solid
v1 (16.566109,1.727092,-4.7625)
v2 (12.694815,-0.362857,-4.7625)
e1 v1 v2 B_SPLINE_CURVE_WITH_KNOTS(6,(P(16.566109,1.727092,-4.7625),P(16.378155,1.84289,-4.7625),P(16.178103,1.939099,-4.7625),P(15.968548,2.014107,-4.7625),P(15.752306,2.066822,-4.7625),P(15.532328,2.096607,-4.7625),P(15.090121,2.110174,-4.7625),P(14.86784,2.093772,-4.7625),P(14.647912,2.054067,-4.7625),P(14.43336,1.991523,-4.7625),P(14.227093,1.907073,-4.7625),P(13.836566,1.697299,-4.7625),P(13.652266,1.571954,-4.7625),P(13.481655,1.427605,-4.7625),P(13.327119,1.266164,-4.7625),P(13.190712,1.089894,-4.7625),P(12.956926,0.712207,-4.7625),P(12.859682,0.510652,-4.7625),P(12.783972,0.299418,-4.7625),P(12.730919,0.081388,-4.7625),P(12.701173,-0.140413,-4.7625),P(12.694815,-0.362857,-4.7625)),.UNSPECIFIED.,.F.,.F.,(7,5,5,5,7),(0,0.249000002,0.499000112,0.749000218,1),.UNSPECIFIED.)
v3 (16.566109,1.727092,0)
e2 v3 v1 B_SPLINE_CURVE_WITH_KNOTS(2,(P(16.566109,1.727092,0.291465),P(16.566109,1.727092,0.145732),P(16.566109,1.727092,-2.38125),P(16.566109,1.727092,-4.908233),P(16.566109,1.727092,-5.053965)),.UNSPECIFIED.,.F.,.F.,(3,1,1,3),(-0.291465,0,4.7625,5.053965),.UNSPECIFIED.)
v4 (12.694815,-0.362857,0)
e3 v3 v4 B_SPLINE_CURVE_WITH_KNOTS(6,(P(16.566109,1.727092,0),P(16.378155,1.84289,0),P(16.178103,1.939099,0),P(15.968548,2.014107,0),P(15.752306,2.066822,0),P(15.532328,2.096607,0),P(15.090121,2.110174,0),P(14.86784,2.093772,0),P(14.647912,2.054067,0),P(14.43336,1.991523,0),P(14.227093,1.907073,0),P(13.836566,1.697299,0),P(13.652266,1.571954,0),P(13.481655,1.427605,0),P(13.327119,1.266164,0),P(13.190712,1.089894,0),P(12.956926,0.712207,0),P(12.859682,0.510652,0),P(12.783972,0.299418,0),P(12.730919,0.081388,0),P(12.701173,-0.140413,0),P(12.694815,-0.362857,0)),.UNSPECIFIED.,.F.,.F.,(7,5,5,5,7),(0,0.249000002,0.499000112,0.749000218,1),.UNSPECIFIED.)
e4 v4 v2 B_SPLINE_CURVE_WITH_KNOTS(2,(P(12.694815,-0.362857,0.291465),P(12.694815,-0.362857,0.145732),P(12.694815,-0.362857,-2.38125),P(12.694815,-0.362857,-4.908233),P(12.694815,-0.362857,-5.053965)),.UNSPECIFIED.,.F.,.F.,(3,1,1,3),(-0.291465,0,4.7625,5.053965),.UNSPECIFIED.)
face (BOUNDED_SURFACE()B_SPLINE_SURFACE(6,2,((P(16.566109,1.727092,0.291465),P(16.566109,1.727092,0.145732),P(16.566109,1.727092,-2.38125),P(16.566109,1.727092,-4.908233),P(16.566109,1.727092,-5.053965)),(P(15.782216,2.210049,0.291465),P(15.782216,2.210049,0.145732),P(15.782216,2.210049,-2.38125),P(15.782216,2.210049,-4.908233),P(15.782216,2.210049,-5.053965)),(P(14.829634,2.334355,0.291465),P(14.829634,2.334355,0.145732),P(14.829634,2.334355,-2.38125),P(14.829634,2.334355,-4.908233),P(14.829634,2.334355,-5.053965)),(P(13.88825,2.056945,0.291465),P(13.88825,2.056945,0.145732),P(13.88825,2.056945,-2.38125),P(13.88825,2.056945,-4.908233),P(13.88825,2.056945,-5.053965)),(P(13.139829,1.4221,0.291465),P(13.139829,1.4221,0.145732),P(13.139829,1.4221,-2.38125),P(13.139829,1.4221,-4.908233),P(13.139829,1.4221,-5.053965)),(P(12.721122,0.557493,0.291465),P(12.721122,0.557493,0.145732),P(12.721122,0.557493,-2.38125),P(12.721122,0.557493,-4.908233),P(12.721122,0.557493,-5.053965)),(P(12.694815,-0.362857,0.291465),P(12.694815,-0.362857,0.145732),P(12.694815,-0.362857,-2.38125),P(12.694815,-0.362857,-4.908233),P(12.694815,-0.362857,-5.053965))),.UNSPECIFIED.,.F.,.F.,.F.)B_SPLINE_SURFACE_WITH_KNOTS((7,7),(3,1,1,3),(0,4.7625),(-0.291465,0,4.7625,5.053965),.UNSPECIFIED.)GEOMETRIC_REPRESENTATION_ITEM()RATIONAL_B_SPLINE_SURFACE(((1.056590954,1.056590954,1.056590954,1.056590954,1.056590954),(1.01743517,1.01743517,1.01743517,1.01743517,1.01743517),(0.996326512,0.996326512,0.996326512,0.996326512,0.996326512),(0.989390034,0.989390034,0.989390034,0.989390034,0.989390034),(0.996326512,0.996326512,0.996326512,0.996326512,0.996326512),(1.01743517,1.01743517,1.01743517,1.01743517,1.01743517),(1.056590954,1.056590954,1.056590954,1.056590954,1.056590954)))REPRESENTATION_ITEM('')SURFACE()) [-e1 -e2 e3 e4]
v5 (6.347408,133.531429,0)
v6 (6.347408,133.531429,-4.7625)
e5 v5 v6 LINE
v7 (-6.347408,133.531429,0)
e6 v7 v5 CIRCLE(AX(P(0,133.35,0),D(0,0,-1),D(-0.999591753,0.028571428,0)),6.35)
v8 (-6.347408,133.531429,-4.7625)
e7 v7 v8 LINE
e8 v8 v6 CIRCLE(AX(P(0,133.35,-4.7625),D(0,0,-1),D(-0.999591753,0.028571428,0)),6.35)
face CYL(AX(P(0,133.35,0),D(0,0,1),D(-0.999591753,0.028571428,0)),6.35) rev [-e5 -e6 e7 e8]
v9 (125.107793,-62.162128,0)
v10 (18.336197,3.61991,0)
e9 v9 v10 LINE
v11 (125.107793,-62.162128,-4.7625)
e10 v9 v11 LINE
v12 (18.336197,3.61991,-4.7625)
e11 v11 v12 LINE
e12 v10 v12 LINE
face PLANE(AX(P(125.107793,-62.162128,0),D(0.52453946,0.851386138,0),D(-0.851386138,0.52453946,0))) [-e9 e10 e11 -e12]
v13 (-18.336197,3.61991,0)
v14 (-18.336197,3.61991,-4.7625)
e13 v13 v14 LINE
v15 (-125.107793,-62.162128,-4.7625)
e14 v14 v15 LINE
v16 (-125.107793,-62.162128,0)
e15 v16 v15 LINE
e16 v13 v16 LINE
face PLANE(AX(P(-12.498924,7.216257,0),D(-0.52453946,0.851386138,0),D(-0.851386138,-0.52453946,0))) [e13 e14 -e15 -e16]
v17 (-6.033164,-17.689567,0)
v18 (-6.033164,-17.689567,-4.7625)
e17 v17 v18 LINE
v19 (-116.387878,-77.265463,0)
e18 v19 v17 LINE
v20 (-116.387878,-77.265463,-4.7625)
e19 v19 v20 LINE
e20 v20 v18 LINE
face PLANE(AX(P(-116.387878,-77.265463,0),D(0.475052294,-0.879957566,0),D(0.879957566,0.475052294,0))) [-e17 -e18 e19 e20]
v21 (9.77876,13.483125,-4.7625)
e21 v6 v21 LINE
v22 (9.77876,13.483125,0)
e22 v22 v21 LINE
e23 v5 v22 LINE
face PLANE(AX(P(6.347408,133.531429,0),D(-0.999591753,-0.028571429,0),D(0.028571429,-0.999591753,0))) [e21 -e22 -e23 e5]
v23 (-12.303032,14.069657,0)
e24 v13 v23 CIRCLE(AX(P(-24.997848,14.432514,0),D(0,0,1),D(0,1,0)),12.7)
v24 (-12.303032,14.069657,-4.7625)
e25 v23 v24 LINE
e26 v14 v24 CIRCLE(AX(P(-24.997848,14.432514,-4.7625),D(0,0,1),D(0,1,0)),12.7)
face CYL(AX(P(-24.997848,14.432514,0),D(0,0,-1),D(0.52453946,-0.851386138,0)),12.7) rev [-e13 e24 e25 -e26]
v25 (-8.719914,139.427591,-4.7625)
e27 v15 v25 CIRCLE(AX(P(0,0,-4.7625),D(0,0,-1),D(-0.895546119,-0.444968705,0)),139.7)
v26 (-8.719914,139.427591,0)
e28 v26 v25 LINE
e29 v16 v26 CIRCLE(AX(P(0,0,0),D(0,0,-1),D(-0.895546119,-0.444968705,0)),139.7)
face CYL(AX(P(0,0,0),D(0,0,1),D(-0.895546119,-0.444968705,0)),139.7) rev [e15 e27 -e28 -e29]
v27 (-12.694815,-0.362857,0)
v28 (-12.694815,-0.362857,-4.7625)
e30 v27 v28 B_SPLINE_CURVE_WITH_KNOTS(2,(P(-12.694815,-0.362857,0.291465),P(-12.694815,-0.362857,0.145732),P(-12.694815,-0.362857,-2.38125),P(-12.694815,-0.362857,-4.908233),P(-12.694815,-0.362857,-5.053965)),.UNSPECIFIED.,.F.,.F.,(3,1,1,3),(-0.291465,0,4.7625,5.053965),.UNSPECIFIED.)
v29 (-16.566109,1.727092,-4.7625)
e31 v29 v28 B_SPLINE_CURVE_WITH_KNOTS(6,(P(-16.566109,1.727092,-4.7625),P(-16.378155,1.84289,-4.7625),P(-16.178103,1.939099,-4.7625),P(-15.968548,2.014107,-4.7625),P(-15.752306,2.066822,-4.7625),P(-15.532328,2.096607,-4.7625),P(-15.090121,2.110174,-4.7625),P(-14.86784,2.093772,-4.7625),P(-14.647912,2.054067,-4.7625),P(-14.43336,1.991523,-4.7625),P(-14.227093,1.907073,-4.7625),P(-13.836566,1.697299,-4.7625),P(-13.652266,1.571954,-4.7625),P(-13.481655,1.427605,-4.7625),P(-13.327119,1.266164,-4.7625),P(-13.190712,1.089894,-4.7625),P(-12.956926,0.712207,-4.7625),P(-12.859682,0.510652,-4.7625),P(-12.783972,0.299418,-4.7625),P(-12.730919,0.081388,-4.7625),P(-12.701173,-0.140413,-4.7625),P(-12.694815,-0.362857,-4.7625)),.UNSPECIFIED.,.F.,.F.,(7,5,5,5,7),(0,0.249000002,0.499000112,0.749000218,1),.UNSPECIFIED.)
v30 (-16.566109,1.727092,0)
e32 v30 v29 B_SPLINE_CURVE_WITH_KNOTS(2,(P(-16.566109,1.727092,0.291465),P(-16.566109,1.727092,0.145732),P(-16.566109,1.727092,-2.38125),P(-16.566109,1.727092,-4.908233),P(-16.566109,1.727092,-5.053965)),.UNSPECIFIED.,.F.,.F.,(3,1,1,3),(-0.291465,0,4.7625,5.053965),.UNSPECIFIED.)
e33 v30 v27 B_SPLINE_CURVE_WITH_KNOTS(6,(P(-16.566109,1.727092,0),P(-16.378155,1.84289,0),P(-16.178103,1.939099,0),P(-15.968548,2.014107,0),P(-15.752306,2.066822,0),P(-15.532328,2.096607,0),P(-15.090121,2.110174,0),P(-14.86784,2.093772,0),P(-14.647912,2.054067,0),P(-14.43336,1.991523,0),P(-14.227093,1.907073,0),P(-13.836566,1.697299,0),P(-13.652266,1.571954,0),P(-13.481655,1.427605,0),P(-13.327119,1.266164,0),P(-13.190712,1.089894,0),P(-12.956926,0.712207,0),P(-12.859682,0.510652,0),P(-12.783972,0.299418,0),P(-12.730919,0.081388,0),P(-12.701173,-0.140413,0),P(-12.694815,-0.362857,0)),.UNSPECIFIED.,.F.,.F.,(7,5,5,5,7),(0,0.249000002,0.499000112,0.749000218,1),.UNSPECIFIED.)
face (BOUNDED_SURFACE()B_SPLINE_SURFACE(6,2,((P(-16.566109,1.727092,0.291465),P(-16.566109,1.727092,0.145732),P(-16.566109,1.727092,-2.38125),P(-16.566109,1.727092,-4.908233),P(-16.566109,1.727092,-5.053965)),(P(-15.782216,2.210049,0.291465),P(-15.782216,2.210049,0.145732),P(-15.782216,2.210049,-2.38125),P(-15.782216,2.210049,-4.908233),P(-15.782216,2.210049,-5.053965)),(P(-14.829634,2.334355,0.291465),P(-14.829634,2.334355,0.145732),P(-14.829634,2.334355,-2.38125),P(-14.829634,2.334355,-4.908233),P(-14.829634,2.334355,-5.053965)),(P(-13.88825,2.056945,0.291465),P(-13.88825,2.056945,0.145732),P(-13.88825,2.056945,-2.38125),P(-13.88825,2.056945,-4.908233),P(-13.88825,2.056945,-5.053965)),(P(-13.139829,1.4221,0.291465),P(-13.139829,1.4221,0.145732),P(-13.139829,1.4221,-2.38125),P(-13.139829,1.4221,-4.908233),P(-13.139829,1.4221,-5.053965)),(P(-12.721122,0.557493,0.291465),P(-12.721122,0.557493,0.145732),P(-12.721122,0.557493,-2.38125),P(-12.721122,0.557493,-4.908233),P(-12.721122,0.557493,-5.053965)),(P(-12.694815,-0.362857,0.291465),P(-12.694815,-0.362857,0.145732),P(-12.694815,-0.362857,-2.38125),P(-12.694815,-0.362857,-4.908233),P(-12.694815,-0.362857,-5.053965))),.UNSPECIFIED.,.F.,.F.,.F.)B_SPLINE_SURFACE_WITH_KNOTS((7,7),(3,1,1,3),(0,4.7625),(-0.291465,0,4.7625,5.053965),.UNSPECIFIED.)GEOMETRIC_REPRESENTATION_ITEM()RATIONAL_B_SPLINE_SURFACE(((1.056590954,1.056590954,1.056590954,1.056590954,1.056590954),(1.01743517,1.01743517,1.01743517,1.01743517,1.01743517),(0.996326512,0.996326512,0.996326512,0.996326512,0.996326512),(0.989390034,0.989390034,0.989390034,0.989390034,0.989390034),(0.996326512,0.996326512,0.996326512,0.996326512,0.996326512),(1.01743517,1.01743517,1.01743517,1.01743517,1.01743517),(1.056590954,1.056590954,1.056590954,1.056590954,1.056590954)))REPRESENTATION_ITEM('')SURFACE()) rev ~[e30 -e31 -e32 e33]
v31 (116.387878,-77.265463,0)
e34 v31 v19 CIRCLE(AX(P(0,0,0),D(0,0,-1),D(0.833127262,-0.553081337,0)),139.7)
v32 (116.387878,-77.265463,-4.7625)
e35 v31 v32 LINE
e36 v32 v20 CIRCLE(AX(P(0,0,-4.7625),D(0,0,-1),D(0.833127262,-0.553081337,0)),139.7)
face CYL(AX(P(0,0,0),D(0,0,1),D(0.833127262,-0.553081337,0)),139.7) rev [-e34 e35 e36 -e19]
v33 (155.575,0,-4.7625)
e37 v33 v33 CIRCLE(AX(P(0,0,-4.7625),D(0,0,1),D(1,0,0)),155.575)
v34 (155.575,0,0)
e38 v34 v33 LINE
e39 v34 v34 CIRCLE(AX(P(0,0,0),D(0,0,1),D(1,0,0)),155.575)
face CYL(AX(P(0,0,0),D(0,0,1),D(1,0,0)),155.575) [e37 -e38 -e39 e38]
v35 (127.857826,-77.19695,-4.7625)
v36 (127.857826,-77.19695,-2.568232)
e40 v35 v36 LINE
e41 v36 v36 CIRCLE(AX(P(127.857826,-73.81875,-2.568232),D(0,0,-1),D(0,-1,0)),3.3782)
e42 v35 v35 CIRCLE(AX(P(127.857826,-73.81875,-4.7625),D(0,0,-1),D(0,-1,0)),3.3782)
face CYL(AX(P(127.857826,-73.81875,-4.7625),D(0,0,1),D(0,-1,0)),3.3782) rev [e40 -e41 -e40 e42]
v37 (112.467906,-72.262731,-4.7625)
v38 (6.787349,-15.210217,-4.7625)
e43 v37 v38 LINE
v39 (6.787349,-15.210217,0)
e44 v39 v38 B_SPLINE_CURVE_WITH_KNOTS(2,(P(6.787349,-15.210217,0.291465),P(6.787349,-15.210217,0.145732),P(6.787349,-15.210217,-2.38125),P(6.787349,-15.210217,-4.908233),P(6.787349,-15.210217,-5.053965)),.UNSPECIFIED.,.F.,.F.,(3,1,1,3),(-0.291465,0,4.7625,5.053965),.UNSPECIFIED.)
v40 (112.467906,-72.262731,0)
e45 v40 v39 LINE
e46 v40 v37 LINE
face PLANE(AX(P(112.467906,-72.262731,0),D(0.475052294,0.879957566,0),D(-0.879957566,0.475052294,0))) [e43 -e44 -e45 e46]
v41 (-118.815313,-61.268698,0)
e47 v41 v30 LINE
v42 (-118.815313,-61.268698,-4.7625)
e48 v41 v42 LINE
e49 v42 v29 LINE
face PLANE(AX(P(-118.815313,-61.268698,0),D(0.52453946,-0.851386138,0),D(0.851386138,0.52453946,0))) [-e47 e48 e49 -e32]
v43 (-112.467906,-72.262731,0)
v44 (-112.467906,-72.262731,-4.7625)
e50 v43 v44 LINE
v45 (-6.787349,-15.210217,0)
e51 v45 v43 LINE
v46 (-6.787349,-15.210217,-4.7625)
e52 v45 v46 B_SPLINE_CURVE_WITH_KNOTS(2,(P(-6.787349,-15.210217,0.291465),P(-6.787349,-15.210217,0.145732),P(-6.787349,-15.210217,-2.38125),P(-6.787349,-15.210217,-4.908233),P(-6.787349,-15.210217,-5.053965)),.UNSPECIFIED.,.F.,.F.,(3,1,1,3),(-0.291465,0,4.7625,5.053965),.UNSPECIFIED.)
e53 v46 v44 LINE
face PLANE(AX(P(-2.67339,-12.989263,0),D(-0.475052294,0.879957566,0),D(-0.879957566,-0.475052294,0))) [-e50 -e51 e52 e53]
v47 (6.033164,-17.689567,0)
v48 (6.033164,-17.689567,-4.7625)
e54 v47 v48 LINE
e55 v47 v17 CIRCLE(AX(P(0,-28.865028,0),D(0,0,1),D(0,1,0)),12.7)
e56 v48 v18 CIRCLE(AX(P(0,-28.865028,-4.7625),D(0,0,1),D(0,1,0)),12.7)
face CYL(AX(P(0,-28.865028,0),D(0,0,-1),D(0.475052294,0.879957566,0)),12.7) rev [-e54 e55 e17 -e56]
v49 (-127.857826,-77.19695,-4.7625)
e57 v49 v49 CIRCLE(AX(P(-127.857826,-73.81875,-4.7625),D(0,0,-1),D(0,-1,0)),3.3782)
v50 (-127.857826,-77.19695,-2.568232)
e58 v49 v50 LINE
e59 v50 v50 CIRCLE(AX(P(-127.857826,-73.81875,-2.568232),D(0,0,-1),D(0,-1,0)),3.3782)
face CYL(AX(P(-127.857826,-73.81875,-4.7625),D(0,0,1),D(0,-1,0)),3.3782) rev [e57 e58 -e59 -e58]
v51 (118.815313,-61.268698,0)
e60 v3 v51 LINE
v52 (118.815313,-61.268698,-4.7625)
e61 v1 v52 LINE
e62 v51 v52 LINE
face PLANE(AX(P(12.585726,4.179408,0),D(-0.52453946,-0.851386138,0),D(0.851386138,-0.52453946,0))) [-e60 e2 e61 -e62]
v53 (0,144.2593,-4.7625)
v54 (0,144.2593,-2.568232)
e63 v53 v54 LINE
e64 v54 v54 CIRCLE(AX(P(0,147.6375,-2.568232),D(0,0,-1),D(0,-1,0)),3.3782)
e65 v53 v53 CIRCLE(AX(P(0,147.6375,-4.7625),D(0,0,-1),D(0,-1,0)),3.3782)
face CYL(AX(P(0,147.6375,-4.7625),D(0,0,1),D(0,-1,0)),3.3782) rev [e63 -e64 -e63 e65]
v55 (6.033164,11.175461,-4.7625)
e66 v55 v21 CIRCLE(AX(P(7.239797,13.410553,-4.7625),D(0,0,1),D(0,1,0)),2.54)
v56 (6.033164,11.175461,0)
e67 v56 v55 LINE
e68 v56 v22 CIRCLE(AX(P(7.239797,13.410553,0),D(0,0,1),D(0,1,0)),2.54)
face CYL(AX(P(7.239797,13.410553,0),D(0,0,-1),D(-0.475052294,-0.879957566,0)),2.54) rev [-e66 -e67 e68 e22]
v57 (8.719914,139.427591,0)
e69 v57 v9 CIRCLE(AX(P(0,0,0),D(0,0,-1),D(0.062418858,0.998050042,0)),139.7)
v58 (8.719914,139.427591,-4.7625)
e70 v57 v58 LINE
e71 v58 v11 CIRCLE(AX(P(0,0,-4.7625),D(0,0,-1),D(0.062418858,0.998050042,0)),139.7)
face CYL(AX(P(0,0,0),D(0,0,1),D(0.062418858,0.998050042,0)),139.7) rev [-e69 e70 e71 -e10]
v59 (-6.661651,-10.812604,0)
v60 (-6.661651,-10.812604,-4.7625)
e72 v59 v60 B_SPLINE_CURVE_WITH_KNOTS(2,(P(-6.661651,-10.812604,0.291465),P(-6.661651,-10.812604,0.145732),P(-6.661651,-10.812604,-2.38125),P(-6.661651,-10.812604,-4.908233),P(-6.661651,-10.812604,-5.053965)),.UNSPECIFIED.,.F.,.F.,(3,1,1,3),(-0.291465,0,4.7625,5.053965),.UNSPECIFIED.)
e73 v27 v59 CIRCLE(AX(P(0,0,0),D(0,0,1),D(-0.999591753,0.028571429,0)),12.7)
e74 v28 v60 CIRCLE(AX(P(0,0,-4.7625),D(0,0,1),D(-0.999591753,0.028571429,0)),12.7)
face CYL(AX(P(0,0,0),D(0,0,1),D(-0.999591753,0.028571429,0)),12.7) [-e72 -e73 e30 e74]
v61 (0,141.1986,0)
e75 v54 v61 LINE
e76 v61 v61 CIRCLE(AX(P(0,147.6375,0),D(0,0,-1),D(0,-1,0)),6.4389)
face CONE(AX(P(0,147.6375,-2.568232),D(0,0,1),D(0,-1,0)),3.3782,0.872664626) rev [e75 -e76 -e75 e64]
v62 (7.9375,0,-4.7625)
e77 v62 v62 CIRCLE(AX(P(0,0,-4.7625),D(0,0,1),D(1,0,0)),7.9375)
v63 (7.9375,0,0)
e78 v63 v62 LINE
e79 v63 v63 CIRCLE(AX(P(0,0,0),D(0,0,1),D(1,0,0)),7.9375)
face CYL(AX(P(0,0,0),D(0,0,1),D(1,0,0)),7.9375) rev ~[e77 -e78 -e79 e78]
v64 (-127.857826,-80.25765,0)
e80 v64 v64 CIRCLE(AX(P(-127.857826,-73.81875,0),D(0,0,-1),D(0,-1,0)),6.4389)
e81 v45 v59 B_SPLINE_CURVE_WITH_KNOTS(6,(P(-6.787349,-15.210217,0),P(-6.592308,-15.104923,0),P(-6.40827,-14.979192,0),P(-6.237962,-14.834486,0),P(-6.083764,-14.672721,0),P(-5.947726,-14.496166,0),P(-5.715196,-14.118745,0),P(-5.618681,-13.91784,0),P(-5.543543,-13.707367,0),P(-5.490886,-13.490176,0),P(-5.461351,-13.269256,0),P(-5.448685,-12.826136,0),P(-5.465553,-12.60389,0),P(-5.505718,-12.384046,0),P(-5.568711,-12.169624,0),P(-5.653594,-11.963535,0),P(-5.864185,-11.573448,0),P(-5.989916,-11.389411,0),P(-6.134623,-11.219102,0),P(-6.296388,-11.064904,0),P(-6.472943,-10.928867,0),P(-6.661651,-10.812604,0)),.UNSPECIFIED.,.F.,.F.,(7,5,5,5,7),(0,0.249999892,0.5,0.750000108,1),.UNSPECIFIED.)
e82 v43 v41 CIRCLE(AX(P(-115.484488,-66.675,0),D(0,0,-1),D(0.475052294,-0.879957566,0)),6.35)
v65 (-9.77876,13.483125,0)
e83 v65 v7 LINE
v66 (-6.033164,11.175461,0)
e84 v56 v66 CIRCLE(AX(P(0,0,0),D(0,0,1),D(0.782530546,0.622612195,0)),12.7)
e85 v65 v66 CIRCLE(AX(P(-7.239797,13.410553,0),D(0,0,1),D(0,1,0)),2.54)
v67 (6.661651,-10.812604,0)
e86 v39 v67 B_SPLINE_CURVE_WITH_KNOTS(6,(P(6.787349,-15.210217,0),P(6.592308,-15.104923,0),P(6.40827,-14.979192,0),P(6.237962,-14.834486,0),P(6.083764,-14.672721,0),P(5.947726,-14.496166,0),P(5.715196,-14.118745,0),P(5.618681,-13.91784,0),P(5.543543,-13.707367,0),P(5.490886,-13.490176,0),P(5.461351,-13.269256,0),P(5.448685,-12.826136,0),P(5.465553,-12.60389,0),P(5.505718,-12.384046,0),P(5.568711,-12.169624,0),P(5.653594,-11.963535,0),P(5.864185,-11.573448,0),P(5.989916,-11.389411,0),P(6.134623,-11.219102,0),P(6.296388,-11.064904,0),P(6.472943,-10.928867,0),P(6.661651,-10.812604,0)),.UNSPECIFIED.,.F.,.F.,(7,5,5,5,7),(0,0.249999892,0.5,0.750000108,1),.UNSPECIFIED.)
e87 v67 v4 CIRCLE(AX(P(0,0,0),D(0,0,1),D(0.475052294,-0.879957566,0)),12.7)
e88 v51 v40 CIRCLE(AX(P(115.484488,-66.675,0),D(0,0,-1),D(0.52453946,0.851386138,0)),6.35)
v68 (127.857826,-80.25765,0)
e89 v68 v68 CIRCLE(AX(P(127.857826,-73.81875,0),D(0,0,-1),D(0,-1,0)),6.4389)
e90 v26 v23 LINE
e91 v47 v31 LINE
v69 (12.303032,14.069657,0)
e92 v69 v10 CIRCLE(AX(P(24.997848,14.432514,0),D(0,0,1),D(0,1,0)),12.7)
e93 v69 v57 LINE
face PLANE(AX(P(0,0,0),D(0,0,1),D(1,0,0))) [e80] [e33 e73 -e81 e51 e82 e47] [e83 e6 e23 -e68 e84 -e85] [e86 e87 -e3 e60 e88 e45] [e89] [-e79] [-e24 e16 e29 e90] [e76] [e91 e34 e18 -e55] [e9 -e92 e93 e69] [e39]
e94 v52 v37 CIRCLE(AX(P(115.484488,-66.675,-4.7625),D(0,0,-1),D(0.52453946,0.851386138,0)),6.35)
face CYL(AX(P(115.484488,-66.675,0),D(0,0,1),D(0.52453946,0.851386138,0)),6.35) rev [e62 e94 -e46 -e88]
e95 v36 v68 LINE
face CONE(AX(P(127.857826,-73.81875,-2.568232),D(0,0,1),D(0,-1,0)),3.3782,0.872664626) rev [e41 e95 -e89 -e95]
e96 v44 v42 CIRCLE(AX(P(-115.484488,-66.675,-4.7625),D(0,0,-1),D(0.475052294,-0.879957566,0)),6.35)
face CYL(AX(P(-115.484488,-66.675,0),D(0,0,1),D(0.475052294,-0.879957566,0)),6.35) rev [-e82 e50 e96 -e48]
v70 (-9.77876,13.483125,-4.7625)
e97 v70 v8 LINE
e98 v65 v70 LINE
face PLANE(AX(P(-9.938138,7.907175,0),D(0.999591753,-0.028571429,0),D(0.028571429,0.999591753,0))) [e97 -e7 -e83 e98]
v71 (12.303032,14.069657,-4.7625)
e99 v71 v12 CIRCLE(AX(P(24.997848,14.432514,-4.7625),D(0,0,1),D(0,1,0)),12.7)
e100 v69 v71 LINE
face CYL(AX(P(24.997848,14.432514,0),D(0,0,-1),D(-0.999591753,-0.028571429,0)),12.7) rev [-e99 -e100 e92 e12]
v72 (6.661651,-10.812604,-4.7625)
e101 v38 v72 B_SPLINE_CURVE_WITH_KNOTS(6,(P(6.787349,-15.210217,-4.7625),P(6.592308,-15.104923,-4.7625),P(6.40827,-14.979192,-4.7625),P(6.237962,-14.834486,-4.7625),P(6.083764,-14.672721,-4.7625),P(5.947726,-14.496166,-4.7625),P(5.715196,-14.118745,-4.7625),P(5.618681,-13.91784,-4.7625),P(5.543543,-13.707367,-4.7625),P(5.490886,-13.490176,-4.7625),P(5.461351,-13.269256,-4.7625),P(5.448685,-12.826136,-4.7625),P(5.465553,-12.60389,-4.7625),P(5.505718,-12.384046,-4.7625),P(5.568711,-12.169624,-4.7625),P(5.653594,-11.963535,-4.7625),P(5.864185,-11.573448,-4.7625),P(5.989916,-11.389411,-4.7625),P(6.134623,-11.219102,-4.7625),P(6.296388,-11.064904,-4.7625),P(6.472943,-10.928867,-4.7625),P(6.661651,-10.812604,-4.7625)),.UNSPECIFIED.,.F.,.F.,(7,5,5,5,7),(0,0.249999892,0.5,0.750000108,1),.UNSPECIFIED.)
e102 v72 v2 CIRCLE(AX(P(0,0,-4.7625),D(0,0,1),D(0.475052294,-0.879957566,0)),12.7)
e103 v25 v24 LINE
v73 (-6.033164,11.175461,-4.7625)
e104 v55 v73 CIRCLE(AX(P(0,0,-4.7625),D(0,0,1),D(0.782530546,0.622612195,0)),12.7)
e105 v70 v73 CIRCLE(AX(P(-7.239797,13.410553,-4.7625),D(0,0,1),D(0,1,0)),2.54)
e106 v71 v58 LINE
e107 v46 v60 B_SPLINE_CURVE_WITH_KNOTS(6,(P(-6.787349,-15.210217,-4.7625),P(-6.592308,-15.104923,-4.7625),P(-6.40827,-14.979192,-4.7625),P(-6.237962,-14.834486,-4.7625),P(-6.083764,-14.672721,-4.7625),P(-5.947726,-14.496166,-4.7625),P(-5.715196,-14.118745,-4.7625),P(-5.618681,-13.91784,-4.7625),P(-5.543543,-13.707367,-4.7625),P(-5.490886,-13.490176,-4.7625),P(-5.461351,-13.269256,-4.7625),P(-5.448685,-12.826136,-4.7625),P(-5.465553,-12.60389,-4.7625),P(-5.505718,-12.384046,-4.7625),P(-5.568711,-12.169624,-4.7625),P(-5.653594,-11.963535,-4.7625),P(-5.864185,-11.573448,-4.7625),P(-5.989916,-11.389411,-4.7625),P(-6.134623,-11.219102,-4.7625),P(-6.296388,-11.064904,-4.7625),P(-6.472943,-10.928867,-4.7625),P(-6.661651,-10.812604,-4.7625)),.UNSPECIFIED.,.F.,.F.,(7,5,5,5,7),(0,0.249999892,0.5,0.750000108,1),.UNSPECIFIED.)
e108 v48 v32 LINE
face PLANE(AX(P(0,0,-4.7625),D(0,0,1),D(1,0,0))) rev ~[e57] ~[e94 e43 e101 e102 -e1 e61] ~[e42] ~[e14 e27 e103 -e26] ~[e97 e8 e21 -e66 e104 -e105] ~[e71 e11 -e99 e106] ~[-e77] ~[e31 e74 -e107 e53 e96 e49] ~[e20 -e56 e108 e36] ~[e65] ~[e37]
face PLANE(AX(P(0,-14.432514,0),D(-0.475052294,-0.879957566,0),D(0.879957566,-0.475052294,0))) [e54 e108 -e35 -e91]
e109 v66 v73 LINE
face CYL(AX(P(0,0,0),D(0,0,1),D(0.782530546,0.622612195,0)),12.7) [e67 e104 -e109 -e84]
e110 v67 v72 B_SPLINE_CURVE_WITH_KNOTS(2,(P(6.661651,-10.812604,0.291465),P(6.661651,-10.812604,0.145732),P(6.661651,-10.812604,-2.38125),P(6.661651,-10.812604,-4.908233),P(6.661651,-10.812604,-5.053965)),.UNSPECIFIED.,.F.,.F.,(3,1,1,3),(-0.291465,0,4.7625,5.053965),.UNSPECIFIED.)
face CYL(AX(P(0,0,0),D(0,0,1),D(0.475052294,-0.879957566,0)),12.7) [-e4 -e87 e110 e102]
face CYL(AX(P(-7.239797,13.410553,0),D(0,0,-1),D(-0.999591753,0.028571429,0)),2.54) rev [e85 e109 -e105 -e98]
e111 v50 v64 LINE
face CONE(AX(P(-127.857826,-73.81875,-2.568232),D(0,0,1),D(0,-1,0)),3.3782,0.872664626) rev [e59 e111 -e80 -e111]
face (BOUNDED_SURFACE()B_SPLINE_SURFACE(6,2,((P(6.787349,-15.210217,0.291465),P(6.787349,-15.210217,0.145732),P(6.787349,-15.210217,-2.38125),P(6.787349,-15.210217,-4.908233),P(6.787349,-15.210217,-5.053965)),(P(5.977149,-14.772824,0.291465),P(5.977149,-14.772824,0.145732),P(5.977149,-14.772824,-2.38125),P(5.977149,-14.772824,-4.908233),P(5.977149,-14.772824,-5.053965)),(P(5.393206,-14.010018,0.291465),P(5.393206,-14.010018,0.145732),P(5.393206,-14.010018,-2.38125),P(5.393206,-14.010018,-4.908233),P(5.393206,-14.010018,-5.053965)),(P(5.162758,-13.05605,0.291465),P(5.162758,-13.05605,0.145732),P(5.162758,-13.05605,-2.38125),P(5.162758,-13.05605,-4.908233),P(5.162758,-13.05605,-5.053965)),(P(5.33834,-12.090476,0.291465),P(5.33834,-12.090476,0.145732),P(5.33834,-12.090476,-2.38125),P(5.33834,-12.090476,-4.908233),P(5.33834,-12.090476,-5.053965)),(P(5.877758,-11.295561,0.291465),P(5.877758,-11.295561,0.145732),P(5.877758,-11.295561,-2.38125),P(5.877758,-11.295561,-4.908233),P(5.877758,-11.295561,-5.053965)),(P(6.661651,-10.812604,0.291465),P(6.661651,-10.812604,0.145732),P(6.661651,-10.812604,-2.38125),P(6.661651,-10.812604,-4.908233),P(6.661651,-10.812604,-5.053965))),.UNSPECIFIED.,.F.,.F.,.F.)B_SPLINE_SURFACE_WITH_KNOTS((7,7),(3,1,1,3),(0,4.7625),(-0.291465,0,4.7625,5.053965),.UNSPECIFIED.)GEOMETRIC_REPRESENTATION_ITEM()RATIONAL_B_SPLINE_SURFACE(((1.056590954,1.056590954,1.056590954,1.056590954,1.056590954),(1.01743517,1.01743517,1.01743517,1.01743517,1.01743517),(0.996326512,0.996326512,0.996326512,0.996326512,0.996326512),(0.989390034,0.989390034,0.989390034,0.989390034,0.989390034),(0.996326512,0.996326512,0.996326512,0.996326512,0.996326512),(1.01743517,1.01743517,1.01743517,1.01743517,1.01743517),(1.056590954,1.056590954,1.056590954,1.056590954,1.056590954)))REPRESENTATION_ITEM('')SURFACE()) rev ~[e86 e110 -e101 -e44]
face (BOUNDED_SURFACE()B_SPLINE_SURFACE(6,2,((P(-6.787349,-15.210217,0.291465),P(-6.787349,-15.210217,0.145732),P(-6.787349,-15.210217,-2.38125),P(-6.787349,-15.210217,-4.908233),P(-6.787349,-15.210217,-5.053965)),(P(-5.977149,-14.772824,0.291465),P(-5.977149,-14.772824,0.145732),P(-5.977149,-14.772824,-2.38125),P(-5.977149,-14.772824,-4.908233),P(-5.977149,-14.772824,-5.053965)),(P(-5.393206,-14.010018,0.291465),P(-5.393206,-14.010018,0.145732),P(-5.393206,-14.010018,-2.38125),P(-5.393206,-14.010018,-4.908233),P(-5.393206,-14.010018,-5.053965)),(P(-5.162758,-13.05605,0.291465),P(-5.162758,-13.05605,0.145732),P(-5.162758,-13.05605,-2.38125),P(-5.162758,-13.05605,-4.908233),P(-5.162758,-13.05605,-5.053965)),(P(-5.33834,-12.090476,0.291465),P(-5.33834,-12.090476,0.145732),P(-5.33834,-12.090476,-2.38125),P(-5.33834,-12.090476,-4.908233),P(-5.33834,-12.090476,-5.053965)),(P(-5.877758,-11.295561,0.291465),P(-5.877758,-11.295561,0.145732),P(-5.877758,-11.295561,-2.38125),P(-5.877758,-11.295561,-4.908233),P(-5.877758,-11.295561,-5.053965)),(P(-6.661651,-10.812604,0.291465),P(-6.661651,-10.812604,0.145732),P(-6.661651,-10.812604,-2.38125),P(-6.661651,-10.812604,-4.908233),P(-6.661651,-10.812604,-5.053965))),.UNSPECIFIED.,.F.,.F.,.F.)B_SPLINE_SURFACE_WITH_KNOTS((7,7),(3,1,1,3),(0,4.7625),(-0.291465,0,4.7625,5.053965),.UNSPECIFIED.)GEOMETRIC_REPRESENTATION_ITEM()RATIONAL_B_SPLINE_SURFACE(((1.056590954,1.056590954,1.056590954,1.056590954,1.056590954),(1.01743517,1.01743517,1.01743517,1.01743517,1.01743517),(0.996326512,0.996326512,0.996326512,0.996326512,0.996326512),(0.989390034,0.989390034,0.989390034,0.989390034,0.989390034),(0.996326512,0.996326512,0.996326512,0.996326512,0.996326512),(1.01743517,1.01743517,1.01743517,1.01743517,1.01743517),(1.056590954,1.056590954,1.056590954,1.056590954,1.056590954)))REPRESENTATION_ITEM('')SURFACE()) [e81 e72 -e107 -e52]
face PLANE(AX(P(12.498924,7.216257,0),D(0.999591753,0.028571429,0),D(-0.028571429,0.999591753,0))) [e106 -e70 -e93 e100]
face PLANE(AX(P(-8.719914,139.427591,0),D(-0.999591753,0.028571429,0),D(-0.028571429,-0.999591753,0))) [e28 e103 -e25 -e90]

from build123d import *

# Parameters (mm, degrees)
SKETCH1_R                                   = 155.575
SKETCH1_R_2                                 = 7.9375
BOSS_EXTRUDE1_DEPTH                         = 4.7625
FILLET1_R                                   = 12.7
FILLET4_R                                   = 2.54
CSK_FOR_1_4_FLAT_HEAD_MACHINE_SCREW_2_COUNT = 2
CSK_FOR_1_4_FLAT_HEAD_MACHINE_SCREW_2_PITCH = 255.715651102
CSK_FOR_1_4_FLAT_HEAD_MACHINE_SCREW_3_COUNT = 2
CSK_FOR_1_4_FLAT_HEAD_MACHINE_SCREW_3_PITCH = 255.715651102


with BuildPart() as part:
    # Sketch1 → Boss-Extrude1 (new body)
    with BuildSketch(Plane.XY):
        Circle(SKETCH1_R)
        with BuildLine():
            ThreePointArc((-125.107792883, -62.16212802), (-120.983748909, 69.85), (-8.719914422, 139.427590858))
            Line((-8.719914422, 139.427590858), (-12.49892387, 7.216257061))
            Line((-12.49892387, 7.216257061), (-125.107792883, -62.16212802))
        make_face(mode=Mode.SUBTRACT)
        with BuildLine():
            ThreePointArc((8.719914422, 139.427590858), (120.983748909, 69.85), (125.107792883, -62.16212802))
            Line((125.107792883, -62.16212802), (12.49892387, 7.216257061))
            Line((12.49892387, 7.216257061), (8.719914422, 139.427590858))
        make_face(mode=Mode.SUBTRACT)
        with BuildLine():
            ThreePointArc((116.38787846, -77.265462838), (0, -139.7), (-116.38787846, -77.265462838))
            Line((-116.38787846, -77.265462838), (0, -14.432514122))
            Line((0, -14.432514122), (116.38787846, -77.265462838))
        make_face(mode=Mode.SUBTRACT)
        with BuildLine():
            Line((-12.585726429, 4.179407795), (-12.694815268, 0.362857143))
            ThreePointArc((-12.694815268, 0.362857143), (-10.998522628, -6.35), (-6.03316413, -11.17546109))
            Line((-6.03316413, -11.17546109), (-2.673389891, -12.98926271))
            Line((-2.673389891, -12.98926271), (-112.467905529, -72.262730545))
            ThreePointArc((-112.467905529, -72.262730545), (-120.983748909, -69.85), (-118.815313164, -61.268698026))
            Line((-118.815313164, -61.268698026), (-12.585726429, 4.179407795))
        make_face(mode=Mode.SUBTRACT)
        with BuildLine():
            ThreePointArc((118.815313164, -61.268698026), (120.983748909, -69.85), (112.467905529, -72.262730545))
            Line((112.467905529, -72.262730545), (2.673389891, -12.98926271))
            Line((2.673389891, -12.98926271), (6.03316413, -11.17546109))
            ThreePointArc((6.03316413, -11.17546109), (10.998522628, -6.35), (12.694815268, 0.362857143))
            Line((12.694815268, 0.362857143), (12.585726429, 4.179407795))
            Line((12.585726429, 4.179407795), (118.815313164, -61.268698026))
        make_face(mode=Mode.SUBTRACT)
        Circle(SKETCH1_R_2, mode=Mode.SUBTRACT)
        with BuildLine():
            ThreePointArc((-6.347407634, 133.531428571), (0, 139.7), (6.347407634, 133.531428571))
            Line((6.347407634, 133.531428571), (9.938137929, 7.907174875))
            ThreePointArc((9.938137929, 7.907174875), (0, 12.7), (-9.938137929, 7.907174875))
            Line((-9.938137929, 7.907174875), (-6.347407634, 133.531428571))
        make_face(mode=Mode.SUBTRACT)
    extrude(amount=-BOSS_EXTRUDE1_DEPTH)

    # Fillet1
    fillet1_edges = [part.edges().sort_by_distance(p)[0] for p in [
        (12.49892387, 7.216257061, -2.38125),
        (0, -14.432514122, -2.38125),
        (-12.49892387, 7.216257061, -2.38125),
    ]]
    fillet(fillet1_edges, radius=FILLET1_R)

    # Fillet4
    fillet4_edges = [part.edges().sort_by_distance(p)[0] for p in [
        (12.585726429, 4.179407795, -2.38125),
        (2.673389891, -12.98926271, -2.38125),
        (-2.673389891, -12.98926271, -2.38125),
        (-12.585726429, 4.179407795, -2.38125),
        (-9.938137929, 7.907174875, -2.38125),
        (9.938137929, 7.907174875, -2.38125),
    ]]
    fillet(fillet4_edges, radius=FILLET4_R)

    # Sketch4 → CSK for 1/4 Flat Head Machine Screw (100)1 (revolve, cut)
    with BuildSketch(Plane(origin=(0, 147.6375, 0), x_dir=(0, -1, 0), z_dir=(1, 0, 0))):
        Polygon((0, 0), (0, 4.7625), (3.3782, 4.7625), (3.3782, 2.568232241), (6.4389, 0), align=None)
    csk_for_1_4_flat_head_machine_screw_100 = revolve(axis=Axis((0, 147.6375, 6.35), (0, 0, -1)), mode=Mode.SUBTRACT)

    # CSK for 1_4 Flat Head Machine Screw  2: CSK for 1/4 Flat Head Machine Screw (100)1 ×2
    with Locations(*[Vector(0.5, -0.866025404, 0) * (i * CSK_FOR_1_4_FLAT_HEAD_MACHINE_SCREW_2_PITCH) for i in range(1, CSK_FOR_1_4_FLAT_HEAD_MACHINE_SCREW_2_COUNT)]):
        add(csk_for_1_4_flat_head_machine_screw_100, mode=Mode.SUBTRACT)

    # CSK for 1_4 Flat Head Machine Screw  3: CSK for 1/4 Flat Head Machine Screw (100)1 ×2
    with Locations(*[Vector(-0.5, -0.866025404, 0) * (i * CSK_FOR_1_4_FLAT_HEAD_MACHINE_SCREW_3_PITCH) for i in range(1, CSK_FOR_1_4_FLAT_HEAD_MACHINE_SCREW_3_COUNT)]):
        add(csk_for_1_4_flat_head_machine_screw_100, mode=Mode.SUBTRACT)


solid = part.part
